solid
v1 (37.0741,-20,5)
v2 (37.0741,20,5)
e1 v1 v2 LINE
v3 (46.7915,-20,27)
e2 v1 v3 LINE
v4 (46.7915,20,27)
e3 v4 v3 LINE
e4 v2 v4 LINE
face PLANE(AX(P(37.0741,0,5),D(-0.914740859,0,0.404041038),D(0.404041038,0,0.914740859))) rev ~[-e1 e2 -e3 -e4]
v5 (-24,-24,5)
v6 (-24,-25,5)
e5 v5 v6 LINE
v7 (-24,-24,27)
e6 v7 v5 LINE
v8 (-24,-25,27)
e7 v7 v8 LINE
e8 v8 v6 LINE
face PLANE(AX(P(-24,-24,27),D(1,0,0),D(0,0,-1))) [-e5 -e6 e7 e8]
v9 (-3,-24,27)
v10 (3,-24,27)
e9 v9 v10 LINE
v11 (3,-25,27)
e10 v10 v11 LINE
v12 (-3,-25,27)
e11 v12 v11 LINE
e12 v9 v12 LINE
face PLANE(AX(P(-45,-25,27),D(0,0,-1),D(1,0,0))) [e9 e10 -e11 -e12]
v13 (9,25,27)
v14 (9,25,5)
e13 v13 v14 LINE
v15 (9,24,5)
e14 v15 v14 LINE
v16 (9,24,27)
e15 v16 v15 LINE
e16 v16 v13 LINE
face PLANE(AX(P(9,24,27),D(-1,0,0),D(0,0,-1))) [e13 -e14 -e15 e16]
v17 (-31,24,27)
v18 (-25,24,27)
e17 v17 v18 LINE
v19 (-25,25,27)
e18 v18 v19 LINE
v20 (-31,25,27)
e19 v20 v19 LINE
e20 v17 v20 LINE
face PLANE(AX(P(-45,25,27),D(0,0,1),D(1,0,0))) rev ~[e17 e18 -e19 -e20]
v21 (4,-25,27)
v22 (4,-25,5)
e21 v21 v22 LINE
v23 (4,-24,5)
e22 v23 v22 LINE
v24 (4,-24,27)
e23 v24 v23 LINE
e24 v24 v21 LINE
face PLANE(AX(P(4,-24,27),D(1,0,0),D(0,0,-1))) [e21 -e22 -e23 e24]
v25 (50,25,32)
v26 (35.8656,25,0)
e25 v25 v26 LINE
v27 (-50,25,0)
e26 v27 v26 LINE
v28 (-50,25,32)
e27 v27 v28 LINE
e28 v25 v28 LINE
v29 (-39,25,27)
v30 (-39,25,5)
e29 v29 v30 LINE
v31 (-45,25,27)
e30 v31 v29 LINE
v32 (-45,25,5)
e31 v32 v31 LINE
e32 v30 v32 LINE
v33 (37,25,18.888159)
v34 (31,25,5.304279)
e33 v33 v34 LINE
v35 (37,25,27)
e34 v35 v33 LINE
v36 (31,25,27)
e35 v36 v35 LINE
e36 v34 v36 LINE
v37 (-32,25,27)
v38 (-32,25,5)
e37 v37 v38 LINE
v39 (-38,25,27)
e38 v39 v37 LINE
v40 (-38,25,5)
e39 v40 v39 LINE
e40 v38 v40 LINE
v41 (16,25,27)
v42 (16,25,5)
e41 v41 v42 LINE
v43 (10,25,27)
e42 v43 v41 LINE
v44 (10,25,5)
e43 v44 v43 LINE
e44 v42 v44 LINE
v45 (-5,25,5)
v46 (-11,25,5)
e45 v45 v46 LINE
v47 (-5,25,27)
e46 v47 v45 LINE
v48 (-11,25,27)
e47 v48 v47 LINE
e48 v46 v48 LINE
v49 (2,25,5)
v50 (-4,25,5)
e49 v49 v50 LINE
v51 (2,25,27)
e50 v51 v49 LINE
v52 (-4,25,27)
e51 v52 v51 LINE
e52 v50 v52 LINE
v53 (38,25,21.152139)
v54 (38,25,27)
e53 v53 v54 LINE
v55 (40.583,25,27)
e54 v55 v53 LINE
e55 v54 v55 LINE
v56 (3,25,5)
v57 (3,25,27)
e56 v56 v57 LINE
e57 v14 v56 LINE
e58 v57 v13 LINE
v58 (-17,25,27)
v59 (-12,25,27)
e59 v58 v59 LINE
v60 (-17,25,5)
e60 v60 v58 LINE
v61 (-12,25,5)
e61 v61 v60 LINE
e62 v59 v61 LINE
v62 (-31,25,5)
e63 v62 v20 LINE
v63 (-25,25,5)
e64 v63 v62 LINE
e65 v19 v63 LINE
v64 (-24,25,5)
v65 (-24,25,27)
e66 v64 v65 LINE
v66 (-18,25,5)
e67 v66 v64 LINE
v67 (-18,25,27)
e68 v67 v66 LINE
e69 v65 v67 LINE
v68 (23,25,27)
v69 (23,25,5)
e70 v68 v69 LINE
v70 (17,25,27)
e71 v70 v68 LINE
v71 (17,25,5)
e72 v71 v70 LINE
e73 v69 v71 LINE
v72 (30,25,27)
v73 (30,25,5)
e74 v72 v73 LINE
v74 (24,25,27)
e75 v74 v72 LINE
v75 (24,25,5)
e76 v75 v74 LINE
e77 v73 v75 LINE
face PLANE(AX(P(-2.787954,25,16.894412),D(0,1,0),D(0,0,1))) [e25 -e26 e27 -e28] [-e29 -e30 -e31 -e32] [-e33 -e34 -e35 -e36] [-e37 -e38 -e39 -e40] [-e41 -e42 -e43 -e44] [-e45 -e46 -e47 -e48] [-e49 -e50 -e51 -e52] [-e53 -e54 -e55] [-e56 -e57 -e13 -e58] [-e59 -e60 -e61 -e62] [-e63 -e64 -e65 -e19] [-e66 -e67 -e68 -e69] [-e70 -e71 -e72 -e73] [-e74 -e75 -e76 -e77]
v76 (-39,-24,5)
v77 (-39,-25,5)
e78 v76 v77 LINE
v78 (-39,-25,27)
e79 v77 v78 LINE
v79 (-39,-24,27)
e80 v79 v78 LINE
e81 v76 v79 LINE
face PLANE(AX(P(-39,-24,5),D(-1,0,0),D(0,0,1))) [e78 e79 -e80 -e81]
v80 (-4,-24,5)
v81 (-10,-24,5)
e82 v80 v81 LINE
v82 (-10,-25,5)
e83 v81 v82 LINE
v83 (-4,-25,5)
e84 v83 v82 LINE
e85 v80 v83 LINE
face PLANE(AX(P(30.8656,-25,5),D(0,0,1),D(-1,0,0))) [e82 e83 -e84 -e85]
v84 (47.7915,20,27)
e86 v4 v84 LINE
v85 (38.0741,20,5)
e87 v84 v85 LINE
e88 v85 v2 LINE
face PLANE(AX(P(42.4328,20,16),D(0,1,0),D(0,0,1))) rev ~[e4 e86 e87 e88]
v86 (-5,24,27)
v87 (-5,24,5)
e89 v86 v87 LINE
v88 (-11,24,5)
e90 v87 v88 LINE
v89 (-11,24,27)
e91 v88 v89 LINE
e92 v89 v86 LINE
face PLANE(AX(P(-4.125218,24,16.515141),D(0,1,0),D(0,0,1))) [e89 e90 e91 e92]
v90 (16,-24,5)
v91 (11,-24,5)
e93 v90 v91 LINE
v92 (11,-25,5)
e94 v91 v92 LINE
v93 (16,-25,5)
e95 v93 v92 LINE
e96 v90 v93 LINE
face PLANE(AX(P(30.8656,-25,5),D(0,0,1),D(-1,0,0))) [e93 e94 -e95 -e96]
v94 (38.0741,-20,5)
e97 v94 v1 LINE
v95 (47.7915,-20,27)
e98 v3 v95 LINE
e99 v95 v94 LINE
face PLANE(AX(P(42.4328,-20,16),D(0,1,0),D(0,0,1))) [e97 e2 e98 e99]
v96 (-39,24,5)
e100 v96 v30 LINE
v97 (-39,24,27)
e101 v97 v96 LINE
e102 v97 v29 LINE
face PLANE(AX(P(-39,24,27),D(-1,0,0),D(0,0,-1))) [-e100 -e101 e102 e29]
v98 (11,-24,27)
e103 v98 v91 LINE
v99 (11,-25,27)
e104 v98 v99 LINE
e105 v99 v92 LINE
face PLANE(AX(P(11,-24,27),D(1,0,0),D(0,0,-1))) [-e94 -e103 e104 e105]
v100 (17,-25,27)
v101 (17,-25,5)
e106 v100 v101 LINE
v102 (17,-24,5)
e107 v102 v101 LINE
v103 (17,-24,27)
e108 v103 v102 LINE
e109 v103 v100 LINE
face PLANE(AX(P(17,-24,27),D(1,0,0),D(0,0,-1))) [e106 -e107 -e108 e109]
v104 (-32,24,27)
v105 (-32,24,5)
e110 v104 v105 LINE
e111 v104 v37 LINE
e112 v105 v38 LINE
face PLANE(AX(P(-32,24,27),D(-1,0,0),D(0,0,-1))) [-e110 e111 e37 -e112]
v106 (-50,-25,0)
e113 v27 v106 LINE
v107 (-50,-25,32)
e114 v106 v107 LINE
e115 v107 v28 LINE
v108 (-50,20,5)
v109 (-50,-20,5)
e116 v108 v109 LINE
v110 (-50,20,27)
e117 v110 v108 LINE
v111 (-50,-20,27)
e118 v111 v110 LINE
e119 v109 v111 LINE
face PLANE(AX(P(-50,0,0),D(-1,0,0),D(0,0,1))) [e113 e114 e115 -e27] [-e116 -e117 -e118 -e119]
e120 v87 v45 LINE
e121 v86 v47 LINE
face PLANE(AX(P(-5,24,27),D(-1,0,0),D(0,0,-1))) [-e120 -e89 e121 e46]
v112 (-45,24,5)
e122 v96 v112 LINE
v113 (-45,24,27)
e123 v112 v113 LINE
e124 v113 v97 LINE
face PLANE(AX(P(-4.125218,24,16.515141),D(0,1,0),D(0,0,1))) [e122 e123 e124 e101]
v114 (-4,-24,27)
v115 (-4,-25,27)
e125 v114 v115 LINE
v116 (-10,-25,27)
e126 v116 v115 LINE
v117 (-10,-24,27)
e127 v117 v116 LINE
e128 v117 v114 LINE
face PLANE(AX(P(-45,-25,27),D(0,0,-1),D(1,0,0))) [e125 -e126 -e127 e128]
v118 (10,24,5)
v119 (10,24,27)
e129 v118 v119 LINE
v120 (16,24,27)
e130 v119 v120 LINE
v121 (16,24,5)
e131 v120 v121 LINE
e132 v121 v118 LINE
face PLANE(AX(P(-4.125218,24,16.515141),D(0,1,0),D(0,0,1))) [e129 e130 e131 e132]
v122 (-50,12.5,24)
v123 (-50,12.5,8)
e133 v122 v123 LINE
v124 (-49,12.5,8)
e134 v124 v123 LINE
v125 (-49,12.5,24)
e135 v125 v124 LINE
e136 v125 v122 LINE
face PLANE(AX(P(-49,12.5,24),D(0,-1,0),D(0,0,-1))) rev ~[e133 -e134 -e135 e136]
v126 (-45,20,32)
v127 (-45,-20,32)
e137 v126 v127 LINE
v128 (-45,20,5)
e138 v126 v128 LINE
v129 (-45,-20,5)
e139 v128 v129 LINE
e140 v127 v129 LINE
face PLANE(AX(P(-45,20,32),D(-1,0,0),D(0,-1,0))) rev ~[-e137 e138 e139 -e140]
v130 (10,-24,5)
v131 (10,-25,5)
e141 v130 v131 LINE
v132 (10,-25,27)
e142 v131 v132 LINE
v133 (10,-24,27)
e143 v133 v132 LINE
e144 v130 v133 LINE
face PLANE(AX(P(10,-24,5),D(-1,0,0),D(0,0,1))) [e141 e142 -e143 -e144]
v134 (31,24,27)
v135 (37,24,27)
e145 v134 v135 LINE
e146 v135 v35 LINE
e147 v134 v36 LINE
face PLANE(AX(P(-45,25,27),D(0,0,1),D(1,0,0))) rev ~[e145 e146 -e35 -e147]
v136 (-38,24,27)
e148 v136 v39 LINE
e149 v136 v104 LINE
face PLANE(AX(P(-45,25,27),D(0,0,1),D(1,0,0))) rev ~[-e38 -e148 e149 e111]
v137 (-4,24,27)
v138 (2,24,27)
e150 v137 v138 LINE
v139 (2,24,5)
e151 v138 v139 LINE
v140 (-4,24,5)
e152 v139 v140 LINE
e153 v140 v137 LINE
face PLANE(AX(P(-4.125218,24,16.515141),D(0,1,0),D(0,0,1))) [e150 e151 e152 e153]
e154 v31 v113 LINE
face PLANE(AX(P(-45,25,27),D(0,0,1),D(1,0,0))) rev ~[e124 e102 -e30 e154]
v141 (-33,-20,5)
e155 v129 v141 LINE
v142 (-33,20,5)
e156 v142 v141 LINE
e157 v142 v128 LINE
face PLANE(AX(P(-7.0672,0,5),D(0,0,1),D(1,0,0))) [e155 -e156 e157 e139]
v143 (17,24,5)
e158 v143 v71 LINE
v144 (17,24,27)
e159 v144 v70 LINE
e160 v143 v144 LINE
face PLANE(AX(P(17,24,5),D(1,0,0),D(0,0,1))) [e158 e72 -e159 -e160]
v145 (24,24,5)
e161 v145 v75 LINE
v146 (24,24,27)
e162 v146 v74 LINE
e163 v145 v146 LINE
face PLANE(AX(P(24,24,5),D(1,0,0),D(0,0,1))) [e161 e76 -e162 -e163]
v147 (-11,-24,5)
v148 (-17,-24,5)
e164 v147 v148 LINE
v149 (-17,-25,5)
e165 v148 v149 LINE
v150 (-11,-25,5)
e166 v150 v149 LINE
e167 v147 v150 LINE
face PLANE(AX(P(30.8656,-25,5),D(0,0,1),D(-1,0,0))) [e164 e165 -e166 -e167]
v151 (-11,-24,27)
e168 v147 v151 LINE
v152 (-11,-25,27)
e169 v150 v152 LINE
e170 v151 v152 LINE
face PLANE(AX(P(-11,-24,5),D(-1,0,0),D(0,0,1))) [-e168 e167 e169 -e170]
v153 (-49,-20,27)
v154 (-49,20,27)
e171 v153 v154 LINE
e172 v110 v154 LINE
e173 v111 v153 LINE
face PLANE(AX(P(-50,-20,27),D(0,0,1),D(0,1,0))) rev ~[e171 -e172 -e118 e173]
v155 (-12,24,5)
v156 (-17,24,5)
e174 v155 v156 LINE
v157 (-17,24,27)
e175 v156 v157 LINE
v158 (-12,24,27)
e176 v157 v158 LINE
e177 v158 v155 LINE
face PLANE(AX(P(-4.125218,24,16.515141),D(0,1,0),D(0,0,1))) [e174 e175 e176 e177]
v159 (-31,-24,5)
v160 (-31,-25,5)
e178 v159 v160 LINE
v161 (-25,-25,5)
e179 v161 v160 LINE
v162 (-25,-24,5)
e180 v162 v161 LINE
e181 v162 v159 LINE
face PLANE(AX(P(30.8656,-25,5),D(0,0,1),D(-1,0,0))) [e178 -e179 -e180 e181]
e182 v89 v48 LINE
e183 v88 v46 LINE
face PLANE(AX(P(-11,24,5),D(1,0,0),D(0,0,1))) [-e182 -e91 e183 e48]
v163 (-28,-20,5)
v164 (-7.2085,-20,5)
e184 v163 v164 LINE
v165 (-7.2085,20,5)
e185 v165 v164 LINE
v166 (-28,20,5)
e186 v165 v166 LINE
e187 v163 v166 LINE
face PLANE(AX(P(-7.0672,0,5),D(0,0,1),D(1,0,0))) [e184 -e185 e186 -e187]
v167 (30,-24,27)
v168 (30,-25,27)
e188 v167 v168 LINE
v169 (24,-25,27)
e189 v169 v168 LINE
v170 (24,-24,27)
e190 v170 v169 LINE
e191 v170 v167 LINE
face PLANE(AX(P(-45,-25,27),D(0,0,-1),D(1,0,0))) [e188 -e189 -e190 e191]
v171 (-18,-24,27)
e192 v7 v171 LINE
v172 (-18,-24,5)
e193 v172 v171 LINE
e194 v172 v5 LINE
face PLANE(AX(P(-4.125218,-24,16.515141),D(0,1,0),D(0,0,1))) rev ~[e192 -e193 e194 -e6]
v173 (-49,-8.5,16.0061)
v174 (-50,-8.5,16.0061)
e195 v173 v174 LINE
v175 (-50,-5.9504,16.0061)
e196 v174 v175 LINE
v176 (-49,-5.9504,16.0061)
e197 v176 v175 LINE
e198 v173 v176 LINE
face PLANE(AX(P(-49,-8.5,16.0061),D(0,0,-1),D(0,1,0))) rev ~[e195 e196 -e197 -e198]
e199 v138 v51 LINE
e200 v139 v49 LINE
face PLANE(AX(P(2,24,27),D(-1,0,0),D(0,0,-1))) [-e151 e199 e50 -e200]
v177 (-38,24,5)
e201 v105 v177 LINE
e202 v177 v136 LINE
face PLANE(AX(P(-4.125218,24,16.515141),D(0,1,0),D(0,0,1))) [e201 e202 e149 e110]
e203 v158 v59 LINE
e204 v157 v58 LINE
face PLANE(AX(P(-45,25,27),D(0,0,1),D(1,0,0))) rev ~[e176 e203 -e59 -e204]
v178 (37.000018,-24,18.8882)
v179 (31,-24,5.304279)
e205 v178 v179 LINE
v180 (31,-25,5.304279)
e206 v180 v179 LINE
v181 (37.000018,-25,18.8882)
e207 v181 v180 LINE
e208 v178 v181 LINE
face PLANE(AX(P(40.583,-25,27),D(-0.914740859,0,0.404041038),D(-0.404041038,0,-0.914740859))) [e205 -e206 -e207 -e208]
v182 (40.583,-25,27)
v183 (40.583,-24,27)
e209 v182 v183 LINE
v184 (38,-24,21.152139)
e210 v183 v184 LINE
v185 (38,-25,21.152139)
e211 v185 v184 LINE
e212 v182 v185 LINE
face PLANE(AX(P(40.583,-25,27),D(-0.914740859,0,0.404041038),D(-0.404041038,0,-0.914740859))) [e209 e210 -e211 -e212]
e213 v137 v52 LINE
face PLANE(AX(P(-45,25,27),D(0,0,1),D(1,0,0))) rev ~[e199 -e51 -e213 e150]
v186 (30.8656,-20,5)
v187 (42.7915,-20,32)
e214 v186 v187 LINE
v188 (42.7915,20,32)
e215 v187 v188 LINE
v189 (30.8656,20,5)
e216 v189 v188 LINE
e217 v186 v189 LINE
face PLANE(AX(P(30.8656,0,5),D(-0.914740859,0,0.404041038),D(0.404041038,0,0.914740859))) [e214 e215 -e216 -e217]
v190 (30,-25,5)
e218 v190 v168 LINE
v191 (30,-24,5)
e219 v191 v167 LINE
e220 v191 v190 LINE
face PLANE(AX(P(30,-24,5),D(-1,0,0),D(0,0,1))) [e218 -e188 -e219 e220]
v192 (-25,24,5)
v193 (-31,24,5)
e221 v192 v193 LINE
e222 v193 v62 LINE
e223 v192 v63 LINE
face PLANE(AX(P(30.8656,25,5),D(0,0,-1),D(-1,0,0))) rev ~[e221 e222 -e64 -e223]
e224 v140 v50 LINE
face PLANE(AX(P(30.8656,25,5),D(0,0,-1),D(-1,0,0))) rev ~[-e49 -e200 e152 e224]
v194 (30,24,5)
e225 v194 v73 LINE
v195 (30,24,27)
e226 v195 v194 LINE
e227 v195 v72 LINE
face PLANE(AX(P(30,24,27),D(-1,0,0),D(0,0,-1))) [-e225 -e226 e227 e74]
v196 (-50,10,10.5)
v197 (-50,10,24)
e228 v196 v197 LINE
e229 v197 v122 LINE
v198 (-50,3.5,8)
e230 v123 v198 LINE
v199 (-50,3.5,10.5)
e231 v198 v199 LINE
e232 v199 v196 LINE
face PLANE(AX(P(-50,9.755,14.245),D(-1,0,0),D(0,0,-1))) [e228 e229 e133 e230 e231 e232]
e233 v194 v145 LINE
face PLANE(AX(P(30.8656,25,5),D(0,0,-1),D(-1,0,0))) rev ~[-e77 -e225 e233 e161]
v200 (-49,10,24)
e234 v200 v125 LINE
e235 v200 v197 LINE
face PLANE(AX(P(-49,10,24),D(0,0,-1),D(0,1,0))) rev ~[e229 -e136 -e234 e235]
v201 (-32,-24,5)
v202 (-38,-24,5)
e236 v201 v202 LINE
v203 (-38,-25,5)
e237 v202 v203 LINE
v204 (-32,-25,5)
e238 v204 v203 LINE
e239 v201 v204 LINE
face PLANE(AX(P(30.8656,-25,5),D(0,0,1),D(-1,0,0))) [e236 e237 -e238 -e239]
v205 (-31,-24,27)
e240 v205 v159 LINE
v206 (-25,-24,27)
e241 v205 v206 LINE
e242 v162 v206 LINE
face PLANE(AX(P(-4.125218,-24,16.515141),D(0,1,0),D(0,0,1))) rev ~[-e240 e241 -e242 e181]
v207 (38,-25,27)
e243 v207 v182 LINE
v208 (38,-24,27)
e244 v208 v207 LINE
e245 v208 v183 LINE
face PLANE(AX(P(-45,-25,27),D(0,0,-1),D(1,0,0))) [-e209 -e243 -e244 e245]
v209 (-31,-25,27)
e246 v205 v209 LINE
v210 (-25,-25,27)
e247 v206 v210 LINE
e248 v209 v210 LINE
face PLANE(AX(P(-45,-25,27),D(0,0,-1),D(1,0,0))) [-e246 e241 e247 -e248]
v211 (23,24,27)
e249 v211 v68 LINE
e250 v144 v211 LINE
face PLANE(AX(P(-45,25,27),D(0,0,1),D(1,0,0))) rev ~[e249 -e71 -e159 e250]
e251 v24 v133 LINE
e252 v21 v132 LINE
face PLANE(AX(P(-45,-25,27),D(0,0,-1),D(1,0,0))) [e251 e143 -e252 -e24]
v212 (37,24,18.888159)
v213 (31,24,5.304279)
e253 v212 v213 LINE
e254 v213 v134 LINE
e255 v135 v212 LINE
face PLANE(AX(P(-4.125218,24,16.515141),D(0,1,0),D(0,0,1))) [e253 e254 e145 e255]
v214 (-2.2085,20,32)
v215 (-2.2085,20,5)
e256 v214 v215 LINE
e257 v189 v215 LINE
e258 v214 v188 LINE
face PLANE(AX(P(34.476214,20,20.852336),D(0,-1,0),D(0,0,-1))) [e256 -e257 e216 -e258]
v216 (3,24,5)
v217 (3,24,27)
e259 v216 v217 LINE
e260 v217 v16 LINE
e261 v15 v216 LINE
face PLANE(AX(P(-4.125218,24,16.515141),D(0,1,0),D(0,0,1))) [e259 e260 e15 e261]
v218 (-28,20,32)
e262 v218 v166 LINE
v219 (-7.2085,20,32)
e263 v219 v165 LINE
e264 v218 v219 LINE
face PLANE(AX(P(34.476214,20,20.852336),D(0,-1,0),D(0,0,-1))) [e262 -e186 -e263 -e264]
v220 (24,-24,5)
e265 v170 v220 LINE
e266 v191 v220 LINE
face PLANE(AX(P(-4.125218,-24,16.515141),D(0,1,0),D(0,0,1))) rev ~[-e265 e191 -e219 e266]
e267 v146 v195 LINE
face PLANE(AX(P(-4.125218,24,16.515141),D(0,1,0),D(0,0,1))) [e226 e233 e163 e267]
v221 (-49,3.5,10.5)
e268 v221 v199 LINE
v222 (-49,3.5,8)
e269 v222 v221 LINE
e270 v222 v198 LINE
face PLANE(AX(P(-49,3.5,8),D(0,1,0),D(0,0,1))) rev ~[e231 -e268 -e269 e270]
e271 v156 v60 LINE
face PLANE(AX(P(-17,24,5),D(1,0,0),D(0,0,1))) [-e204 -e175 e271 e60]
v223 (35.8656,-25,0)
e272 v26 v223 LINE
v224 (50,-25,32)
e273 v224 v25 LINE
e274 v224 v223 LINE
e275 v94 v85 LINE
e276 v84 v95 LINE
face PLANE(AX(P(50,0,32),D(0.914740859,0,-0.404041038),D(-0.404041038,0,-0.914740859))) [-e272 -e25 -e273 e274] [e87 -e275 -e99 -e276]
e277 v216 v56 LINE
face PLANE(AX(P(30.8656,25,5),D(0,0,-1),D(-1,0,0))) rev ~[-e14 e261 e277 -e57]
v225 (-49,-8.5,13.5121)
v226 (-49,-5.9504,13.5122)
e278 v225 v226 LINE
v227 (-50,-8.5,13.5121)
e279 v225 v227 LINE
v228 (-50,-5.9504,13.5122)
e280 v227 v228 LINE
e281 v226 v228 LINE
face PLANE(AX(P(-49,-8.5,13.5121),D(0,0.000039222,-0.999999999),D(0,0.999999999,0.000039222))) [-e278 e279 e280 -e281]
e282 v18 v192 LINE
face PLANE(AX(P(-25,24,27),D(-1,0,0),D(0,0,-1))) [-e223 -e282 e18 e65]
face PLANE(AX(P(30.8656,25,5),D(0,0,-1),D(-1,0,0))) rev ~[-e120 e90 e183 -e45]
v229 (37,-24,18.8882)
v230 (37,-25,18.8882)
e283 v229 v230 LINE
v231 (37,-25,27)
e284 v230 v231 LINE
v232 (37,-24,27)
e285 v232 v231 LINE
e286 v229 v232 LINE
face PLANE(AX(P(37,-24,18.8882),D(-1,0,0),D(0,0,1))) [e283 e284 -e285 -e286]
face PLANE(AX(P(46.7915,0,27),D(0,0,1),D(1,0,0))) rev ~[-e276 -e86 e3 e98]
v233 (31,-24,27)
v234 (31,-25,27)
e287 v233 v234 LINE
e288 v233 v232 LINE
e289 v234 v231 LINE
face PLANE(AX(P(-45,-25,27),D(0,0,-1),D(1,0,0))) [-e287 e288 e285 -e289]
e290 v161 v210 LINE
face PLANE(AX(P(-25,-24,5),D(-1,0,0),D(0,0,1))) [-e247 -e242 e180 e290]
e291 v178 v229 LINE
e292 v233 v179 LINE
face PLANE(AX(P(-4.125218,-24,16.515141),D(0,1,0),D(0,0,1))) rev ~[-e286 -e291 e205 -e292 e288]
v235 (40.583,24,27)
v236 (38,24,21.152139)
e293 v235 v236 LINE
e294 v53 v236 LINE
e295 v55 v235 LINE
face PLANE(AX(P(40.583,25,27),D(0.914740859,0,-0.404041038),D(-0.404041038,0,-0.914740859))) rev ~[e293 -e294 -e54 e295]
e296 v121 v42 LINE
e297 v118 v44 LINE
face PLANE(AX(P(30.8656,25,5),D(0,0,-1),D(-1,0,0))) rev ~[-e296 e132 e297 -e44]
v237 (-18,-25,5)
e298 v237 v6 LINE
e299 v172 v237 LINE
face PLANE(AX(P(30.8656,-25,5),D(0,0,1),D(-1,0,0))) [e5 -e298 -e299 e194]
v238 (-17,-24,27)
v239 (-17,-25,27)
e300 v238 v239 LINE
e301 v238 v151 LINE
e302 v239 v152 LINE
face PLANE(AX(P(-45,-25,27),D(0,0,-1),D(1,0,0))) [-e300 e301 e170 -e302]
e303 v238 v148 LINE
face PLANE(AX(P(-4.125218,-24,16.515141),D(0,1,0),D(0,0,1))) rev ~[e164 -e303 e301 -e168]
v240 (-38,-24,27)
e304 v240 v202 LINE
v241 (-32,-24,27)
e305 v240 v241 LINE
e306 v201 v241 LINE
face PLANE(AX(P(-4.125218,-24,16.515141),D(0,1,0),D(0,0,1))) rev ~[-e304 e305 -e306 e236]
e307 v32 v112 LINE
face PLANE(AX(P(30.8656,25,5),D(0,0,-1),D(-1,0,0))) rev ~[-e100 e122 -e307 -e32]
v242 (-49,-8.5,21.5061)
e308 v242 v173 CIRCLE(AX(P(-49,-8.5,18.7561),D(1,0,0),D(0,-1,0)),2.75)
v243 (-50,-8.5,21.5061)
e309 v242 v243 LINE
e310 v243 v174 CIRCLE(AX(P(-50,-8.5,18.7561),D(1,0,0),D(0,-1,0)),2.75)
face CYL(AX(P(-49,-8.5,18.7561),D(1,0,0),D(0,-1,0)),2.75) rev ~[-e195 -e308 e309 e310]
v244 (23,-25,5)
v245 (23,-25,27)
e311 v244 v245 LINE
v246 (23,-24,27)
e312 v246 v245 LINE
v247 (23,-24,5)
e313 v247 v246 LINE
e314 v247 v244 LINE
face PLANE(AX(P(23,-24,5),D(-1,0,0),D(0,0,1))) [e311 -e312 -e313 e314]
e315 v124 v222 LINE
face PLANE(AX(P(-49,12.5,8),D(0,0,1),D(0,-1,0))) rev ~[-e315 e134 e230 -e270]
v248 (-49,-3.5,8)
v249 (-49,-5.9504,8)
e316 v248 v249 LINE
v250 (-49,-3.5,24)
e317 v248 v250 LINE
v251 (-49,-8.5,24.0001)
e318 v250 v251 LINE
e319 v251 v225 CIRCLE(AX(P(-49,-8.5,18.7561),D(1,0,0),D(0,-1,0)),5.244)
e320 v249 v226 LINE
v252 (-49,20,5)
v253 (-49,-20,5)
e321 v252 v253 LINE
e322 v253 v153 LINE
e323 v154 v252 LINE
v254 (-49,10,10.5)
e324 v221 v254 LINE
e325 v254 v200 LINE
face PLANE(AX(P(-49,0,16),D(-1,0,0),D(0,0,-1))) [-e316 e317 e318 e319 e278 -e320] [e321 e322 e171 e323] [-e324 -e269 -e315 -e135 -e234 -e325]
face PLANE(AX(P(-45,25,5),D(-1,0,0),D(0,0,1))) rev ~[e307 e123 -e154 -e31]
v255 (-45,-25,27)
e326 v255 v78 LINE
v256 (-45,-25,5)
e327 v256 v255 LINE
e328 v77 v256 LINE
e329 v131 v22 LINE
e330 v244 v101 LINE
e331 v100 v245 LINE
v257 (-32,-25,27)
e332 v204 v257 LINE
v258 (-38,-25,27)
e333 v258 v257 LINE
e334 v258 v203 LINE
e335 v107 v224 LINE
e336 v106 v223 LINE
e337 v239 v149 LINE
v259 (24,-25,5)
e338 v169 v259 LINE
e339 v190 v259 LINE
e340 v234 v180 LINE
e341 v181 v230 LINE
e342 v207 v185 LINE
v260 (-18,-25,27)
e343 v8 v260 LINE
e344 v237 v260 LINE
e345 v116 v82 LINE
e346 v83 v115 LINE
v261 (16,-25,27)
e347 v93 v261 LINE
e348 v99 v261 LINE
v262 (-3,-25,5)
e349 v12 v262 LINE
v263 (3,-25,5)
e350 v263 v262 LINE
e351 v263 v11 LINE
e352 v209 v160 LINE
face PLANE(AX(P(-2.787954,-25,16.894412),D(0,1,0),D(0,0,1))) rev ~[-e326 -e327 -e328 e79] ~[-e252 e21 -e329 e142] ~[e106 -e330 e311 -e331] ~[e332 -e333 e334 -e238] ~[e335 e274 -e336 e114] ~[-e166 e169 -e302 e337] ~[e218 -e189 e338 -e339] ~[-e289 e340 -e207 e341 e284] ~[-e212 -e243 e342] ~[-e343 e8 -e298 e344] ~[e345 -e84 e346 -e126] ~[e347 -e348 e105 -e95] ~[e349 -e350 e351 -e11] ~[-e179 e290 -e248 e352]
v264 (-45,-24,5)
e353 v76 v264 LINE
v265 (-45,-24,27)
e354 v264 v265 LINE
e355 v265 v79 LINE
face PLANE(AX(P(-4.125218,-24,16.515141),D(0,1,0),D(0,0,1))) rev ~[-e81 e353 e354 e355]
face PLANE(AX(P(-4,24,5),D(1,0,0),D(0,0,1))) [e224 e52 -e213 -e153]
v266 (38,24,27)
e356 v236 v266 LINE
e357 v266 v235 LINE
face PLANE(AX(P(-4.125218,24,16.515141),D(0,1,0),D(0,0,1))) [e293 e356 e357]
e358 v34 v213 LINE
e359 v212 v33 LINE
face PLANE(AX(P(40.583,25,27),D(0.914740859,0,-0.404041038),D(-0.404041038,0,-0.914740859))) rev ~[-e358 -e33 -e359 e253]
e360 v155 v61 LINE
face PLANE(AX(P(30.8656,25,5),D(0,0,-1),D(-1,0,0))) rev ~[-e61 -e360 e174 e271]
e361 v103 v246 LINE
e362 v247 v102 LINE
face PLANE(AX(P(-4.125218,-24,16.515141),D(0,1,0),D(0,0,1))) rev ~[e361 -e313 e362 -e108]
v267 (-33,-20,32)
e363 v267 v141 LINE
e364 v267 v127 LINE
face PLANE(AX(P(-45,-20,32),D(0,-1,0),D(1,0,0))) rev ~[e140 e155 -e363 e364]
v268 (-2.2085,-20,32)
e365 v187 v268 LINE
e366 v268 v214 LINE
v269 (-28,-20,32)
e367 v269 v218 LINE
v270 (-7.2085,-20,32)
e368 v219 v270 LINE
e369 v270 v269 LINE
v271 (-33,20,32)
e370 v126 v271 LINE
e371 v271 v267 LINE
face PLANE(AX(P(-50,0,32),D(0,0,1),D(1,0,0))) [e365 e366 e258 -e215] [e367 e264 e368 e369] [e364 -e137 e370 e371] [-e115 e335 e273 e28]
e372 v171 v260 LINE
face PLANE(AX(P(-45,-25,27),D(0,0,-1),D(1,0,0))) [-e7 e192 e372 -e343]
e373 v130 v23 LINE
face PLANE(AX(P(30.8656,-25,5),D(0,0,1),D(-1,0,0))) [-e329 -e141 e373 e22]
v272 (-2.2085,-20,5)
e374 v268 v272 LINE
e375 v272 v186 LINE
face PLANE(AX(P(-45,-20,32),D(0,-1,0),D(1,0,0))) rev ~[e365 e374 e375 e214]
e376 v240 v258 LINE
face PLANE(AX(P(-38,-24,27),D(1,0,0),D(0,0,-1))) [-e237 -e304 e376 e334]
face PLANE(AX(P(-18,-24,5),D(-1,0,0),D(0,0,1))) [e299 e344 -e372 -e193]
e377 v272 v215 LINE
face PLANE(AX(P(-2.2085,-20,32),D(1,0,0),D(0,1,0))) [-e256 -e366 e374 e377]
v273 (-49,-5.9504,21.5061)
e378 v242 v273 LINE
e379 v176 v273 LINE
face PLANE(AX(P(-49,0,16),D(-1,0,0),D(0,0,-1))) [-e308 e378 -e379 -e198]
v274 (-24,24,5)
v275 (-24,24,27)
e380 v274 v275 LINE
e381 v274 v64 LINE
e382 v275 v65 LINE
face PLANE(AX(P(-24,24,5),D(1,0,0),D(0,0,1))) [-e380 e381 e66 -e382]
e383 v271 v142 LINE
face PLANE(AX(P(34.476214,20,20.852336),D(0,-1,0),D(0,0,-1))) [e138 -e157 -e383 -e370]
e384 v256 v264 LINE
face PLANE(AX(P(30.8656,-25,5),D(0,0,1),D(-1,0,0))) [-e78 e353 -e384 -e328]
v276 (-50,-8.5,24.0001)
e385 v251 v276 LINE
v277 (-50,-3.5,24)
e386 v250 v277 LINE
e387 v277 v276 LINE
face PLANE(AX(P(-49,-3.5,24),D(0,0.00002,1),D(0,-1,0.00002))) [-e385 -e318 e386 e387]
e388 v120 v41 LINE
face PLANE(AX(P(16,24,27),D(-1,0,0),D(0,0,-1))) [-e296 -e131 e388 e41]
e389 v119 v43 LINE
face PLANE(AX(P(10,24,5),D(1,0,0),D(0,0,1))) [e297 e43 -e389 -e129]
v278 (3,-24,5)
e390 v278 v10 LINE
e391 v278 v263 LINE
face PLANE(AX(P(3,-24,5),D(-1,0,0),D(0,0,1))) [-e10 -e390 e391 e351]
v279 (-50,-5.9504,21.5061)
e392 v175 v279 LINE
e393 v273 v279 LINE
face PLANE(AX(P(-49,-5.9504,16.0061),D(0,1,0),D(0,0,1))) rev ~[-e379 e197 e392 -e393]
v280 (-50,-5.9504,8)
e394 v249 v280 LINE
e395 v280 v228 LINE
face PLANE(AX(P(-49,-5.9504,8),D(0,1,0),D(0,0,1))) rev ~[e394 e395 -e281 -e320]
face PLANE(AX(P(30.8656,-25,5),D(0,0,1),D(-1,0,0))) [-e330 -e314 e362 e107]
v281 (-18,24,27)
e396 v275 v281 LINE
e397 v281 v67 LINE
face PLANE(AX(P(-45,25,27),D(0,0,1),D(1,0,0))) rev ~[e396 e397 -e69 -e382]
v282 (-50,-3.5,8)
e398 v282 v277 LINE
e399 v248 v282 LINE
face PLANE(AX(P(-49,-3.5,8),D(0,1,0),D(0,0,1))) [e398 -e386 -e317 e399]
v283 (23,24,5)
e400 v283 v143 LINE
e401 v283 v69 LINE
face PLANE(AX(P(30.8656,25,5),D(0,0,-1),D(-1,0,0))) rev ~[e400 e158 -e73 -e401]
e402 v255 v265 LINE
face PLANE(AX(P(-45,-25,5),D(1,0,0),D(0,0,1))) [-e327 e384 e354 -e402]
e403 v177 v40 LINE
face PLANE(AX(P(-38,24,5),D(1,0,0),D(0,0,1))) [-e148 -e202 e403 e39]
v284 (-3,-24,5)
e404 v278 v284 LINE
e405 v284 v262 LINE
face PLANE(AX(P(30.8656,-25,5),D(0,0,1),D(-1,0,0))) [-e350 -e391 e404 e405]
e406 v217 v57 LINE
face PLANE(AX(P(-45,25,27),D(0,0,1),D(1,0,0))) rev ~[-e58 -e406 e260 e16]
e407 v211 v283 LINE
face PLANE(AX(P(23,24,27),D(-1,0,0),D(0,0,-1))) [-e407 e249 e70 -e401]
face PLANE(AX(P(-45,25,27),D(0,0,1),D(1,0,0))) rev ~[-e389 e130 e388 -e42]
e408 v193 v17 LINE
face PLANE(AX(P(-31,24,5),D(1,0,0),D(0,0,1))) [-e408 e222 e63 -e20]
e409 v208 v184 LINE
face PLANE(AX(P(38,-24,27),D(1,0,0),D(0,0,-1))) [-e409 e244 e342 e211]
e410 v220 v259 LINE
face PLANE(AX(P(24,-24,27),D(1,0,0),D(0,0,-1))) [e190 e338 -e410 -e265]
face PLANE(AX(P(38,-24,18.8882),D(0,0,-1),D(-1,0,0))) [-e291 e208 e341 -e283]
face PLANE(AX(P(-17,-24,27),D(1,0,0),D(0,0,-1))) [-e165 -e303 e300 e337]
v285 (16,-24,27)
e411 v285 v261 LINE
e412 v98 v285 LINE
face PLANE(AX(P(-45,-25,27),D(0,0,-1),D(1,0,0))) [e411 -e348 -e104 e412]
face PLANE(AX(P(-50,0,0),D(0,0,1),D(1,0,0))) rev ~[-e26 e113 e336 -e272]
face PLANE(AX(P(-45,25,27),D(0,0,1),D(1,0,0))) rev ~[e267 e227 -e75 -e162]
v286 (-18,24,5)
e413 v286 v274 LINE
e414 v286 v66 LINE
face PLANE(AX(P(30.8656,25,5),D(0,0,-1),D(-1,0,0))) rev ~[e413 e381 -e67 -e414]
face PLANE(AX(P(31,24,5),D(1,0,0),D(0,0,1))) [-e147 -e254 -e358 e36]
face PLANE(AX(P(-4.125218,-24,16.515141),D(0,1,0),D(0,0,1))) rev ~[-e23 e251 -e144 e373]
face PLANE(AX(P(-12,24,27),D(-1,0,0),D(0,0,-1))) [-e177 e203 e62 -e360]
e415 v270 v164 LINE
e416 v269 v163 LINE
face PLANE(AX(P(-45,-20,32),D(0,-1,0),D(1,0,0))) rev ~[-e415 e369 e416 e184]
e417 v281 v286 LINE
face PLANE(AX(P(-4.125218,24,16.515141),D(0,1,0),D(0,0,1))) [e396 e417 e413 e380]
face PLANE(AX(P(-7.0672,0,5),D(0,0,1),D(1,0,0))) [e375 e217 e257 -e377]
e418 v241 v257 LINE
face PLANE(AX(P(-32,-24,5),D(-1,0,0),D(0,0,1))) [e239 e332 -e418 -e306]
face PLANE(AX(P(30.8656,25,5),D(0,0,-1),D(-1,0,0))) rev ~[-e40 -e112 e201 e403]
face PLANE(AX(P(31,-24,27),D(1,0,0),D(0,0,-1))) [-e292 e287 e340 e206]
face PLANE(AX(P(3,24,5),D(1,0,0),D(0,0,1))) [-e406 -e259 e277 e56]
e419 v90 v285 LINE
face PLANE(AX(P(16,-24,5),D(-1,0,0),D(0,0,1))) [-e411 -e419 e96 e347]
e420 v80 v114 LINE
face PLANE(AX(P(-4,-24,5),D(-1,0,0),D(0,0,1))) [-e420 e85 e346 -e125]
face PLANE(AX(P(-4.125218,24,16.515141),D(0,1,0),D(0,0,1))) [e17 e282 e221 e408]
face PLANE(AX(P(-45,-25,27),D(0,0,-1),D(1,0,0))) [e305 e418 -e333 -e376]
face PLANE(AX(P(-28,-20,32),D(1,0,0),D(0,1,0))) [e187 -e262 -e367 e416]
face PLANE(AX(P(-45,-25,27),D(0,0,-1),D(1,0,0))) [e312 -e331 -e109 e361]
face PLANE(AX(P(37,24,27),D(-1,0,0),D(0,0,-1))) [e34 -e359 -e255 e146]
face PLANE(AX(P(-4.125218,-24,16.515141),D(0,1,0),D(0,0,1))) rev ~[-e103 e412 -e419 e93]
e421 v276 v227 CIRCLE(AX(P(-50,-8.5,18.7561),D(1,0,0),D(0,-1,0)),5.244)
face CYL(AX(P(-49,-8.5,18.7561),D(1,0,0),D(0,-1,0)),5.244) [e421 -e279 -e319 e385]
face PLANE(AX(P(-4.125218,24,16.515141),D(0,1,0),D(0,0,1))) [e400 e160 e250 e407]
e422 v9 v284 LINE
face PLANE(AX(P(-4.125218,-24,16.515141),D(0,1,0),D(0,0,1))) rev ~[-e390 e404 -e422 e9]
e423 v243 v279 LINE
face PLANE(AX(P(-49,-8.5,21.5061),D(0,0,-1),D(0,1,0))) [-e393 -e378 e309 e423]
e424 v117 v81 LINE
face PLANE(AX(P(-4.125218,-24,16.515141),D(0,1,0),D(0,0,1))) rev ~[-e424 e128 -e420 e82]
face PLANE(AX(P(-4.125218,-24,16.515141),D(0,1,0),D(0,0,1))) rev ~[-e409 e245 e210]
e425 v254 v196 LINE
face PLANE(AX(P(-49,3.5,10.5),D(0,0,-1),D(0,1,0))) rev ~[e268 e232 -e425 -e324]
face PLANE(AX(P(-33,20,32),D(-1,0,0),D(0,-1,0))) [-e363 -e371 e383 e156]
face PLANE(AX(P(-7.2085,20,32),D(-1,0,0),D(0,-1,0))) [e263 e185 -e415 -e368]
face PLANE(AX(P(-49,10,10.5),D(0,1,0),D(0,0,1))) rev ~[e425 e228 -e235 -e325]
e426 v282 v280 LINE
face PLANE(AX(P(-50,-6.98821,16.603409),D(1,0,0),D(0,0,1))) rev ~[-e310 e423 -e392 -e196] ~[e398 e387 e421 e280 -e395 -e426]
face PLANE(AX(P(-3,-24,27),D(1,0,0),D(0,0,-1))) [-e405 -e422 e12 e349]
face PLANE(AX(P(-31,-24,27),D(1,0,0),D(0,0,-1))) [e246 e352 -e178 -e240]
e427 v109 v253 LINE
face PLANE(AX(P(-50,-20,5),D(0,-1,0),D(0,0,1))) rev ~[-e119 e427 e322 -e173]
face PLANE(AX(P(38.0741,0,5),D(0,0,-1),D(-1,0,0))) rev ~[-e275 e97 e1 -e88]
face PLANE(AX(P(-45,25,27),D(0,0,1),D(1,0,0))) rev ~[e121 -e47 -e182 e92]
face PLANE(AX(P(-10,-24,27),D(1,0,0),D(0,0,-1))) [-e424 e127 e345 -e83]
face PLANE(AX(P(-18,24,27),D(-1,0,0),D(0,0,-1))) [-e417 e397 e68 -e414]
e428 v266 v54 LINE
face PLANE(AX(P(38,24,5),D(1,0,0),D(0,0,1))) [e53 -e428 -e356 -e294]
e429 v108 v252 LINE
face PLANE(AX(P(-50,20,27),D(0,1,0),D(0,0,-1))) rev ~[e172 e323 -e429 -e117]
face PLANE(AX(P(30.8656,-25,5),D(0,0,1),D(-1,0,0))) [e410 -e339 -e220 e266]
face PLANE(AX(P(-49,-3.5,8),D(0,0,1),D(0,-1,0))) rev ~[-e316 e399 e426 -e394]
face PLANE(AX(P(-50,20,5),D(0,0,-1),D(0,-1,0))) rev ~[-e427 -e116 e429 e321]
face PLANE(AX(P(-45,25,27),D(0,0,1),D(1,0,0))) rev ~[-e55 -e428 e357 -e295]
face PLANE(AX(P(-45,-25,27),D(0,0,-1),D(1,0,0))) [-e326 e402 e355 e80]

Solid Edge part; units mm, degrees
sketch "Sketch1" plane through (0, 0, 0) normal (0, -1, 0) x (1, 0, 0)
  line L0 (-50, 0) -> (-50, 32)
  line L1 (-50, 32) -> (0, 32)
  line L2 (0, 32) -> (50, 32)
  line L3 (50, 32) -> (35.8656, 0)
  line L4 (-50, 0) -> (35.8656, 0)
  dimension "D1" = 50
  dimension "D2" = 50
  dimension "D3" = 32
extrude "Protrusion1" add sketch "Sketch1" along normal mid plane 50
sketch "Sketch2" plane through (0, 0, 32) normal (0, 0, 1) x (0, 1, 0)
  line L0 (20, 45) -> (-20, 45)
  line L1 (-20, 45) -> (-20, -30.8656)
  line L2 (-20, -30.8656) -> (20, -30.8656)
  line L3 (20, -30.8656) -> (20, 45)
  dimension "D1" = 5
  dimension "D2" = 5
  dimension "D3" = 5
  dimension "D4" = 5
extrude "ExtrudedCutout_1" cut sketch "Sketch2" against normal blind 27
sketch "Sketch3" plane through (0, 0, 0) normal (0, -1, 0) x (1, 0, 0)
  line L0 (30.8656, 32) -> (30.8656, 5)
  line L1 (30.8656, 5) -> (42.7915, 32)
  line L2 (42.7915, 32) -> (30.8656, 32)
extrude "ExtrudedCutout_2" cut sketch "Sketch3" along normal mid plane 40
sketch "Sketch4" plane through (0, -25, 16) normal (0, -1, 0) x (1, 0, 0)
  line L0 (-45, 11) -> (40.583, 11)
  line L1 (40.583, 11) -> (30.8656, -11)
  line L2 (30.8656, -11) -> (-45, -11)
  line L3 (-45, -11) -> (-45, 11)
extrude "ExtrudedCutout_3" cut sketch "Sketch4" against normal blind 1
sketch "Sketch5" plane through (-50, 0, 16) normal (-1, 0, 0) x (0, -1, 0)
  line L0 (20, 11) -> (-20, 11)
  line L1 (-20, 11) -> (-20, -11)
  line L2 (-20, -11) -> (20, -11)
  line L3 (20, -11) -> (20, 11)
extrude "ExtrudedCutout_4" cut sketch "Sketch5" against normal blind 1
sketch "Sketch6" plane through (0, 25, 16) normal (0, 1, 0) x (-1, 0, 0)
  line L0 (45, 11) -> (-40.583, 11)
  line L1 (-40.583, 11) -> (-30.8656, -11)
  line L2 (-30.8656, -11) -> (45, -11)
  line L3 (45, -11) -> (45, 11)
extrude "ExtrudedCutout_5" cut sketch "Sketch6" against normal blind 1
sketch "Sketch7" plane through (0, 0, 0) normal (0, -1, 0) x (1, 0, 0)
  line L0 (47.7915, 27) -> (38.0741, 5)
  line L1 (38.0741, 5) -> (37.0741, 5)
  line L2 (37.0741, 5) -> (46.7915, 27)
  line L3 (46.7915, 27) -> (47.7915, 27)
extrude "ExtrudedCutout_6" cut sketch "Sketch7" along normal mid plane 40
sketch "Sketch8" plane through (0, 0, 32) normal (0, 0, 1) x (1, 0, 0)
  line L0 (-7.2085, -20) -> (-2.2085, -20)
  line L1 (-2.2085, -20) -> (-2.2085, 20)
  line L2 (-2.2085, 20) -> (-7.2085, 20)
  line L3 (-7.2085, 20) -> (-7.2085, -20)
  line L4 (-28, 20) -> (-33, 20)
  line L5 (-33, 20) -> (-33, -20)
  line L6 (-33, -20) -> (-28, -20)
  line L7 (-28, -20) -> (-28, 20)
  dimension "D1" = 5
  dimension "D2" = 12
  dimension "D3" = 5
  dimension "D4" = 45
extrude "ExtrudedProtrusion_3" add sketch "Sketch8" against normal blind 27
sketch "Sketch9" plane through (-2.2085, -24, 16) normal (0, -1, 0) x (1, 0, 0)
  line L0 (-29.7915, 11) -> (-28.7915, 11)
  line L1 (-28.7915, 11) -> (-28.7915, -11)
  line L2 (-28.7915, -11) -> (-29.7915, -11)
  line L3 (-29.7915, -11) -> (-29.7915, 11)
  line L4 (-22.7915, 11) -> (-21.7915, 11)
  line L5 (-21.7915, 11) -> (-21.7915, -11)
  line L6 (-21.7915, -11) -> (-22.7915, -11)
  line L7 (-22.7915, -11) -> (-22.7915, 11)
  line L8 (-15.7915, 11) -> (-14.7915, 11)
  line L9 (-14.7915, 11) -> (-14.7915, -11)
  line L10 (-14.7915, -11) -> (-15.7915, -11)
  line L11 (-15.7915, -11) -> (-15.7915, 11)
  line L12 (-8.7915, 11) -> (-7.7915, 11)
  line L13 (-7.7915, 11) -> (-7.7915, -11)
  line L14 (-7.7915, -11) -> (-8.7915, -11)
  line L15 (-8.7915, -11) -> (-8.7915, 11)
  line L16 (-1.7915, 11) -> (-0.7915, 11)
  line L17 (-0.7915, 11) -> (-0.7915, -11)
  line L18 (-0.7915, -11) -> (-1.7915, -11)
  line L19 (-1.7915, -11) -> (-1.7915, 11)
  line L20 (5.2085, 11) -> (6.2085, 11)
  line L21 (6.2085, 11) -> (6.2085, -11)
  line L22 (6.2085, -11) -> (5.2085, -11)
  line L23 (5.2085, -11) -> (5.2085, 11)
  line L24 (12.2085, 11) -> (13.2085, 11)
  line L25 (13.2085, 11) -> (13.2085, -11)
  line L26 (13.2085, -11) -> (12.2085, -11)
  line L27 (12.2085, -11) -> (12.2085, 11)
  line L28 (-36.7915, 11) -> (-35.7915, 11)
  line L29 (-35.7915, 11) -> (-35.7915, -11)
  line L30 (-35.7915, -11) -> (-36.7915, -11)
  line L31 (-36.7915, -11) -> (-36.7915, 11)
  line L32 (18.2085, 11) -> (19.2085, 11)
  line L33 (19.2085, 11) -> (19.2085, -11)
  line L34 (19.2085, -11) -> (18.2085, -11)
  line L35 (18.2085, -11) -> (18.2085, 11)
  line L36 (25.2085, 11) -> (26.2085, 11)
  line L37 (26.2085, 11) -> (26.2085, -11)
  line L38 (26.2085, -11) -> (25.2085, -11)
  line L39 (25.2085, -11) -> (25.2085, 11)
  line L40 (32.2085, 11) -> (33.2085, 11)
  line L41 (33.2085, 11) -> (33.2085, -11)
  line L42 (33.2085, -11) -> (32.2085, -11)
  line L43 (32.2085, -11) -> (32.2085, 11)
  line L44 (39.2085, 11) -> (40.2085, 11)
  line L45 (40.2085, 11) -> (40.2085, 2.8882)
  line L46 (40.2085, 2.8882) -> (39.2085, 2.8882)
  line L47 (39.2085, 2.8882) -> (39.2085, 11)
  dimension "D1" = 6
  dimension "D2" = 1
  dimension "D3" = 1
  dimension "D4" = 6
  dimension "D5" = 1
  dimension "D6" = 6
  dimension "D7" = 1
  dimension "D8" = 6
  dimension "D9" = 4
  dimension "D10" = 1
  dimension "D11" = 1
  dimension "D12" = 6
  dimension "D13" = 1
  dimension "D14" = 6
  dimension "D15" = 1
  dimension "D16" = 6
  dimension "D17" = 6
  dimension "D18" = 1
  dimension "D19" = 1
  dimension "D20" = 6
  dimension "D21" = 1
  dimension "D22" = 6
  dimension "D23" = 1
  dimension "D24" = 6
  dimension "D25" = 5
extrude "ExtrudedProtrusion_4" add sketch "Sketch9" along normal blind 1
sketch "Sketch10" plane through (-7.2228, 24, 16) normal (0, 1, 0) x (-1, 0, 0)
  line L0 (-38.2228, 11) -> (-37.2228, 11)
  line L1 (-37.2228, 11) -> (-37.2228, -11)
  line L2 (-37.2228, -11) -> (-38.2228, -11)
  line L3 (-38.2228, -11) -> (-38.2228, 11)
  line L4 (-31.2228, 11) -> (-30.2228, 11)
  line L5 (-30.2228, 11) -> (-30.2228, -11)
  line L6 (-30.2228, -11) -> (-31.2228, -11)
  line L7 (-31.2228, -11) -> (-31.2228, 11)
  line L8 (-24.2228, 11) -> (-23.2228, 11)
  line L9 (-23.2228, 11) -> (-23.2228, -11)
  line L10 (-23.2228, -11) -> (-24.2228, -11)
  line L11 (-24.2228, -11) -> (-24.2228, 11)
  line L12 (-17.2228, 11) -> (-16.2228, 11)
  line L13 (-16.2228, 11) -> (-16.2228, -11)
  line L14 (-16.2228, -11) -> (-17.2228, -11)
  line L15 (-17.2228, -11) -> (-17.2228, 11)
  line L16 (-10.2228, 11) -> (-9.2228, 11)
  line L17 (-9.2228, 11) -> (-9.2228, -11)
  line L18 (-9.2228, -11) -> (-10.2228, -11)
  line L19 (-10.2228, -11) -> (-10.2228, 11)
  line L20 (-3.2228, 11) -> (-2.2228, 11)
  line L21 (-2.2228, 11) -> (-2.2228, -11)
  line L22 (-2.2228, -11) -> (-3.2228, -11)
  line L23 (-3.2228, -11) -> (-3.2228, 11)
  line L24 (3.7772, 11) -> (4.7772, 11)
  line L25 (4.7772, 11) -> (4.7772, -11)
  line L26 (4.7772, -11) -> (3.7772, -11)
  line L27 (3.7772, -11) -> (3.7772, 11)
  line L28 (9.7772, 11) -> (10.7772, 11)
  line L29 (10.7772, 11) -> (10.7772, -11)
  line L30 (10.7772, -11) -> (9.7772, -11)
  line L31 (9.7772, -11) -> (9.7772, 11)
  line L32 (16.7772, 11) -> (17.7772, 11)
  line L33 (17.7772, 11) -> (17.7772, -11)
  line L34 (17.7772, -11) -> (16.7772, -11)
  line L35 (16.7772, -11) -> (16.7772, 11)
  line L36 (23.7772, 11) -> (24.7772, 11)
  line L37 (24.7772, 11) -> (24.7772, -11)
  line L38 (24.7772, -11) -> (23.7772, -11)
  line L39 (23.7772, -11) -> (23.7772, 11)
  line L40 (30.7772, 11) -> (31.7772, 11)
  line L41 (31.7772, 11) -> (31.7772, -11)
  line L42 (31.7772, -11) -> (30.7772, -11)
  line L43 (30.7772, -11) -> (30.7772, 11)
  line L44 (-45.2228, 11) -> (-44.2228, 11)
  line L45 (-44.2228, 11) -> (-44.2228, -11)
  line L46 (-44.2228, -11) -> (-45.2228, -11)
  line L47 (-45.2228, -11) -> (-45.2228, 11)
  dimension "D1" = 22
  dimension "D2" = 6
extrude "ExtrudedProtrusion_5" add sketch "Sketch10" along normal blind 1
sketch "Sketch11" plane through (-49, 0, 16) normal (-1, 0, 0) x (0, -1, 0)
  line L0 (3.5, -8) -> (3.5, 8)
  line L1 (3.5, 8) -> (8.5, 8)
  line L2 (8.5, -2.4878) -> (5.9504, -2.4878)
  line L3 (5.9504, -8) -> (5.9504, -2.4878)
  line L4 (3.5, -8) -> (5.9504, -8)
  arc A0 (8.5, 8) -> (8.5, -2.4878) centre (8.5, 2.7561) cw
  line L5 (-12.5, 8) -> (-12.5, -8)
  line L6 (-12.5, -8) -> (-3.5, -8)
  line L7 (-3.5, -8) -> (-3.5, -5.5)
  line L8 (-3.5, -5.5) -> (-10, -5.5)
  line L9 (-10, -5.5) -> (-10, 8)
  line L10 (-10, 8) -> (-12.5, 8)
  line L11 (5.9504, 0.0061) -> (5.9504, 5.5061)
  line L12 (8.5, 5.5061) -> (5.9504, 5.5061)
  line L13 (8.5, 0.0061) -> (5.9504, 0.0061)
  arc A1 (8.5, 5.5061) -> (8.5, 0.0061) centre (8.5, 2.7561) cw
  dimension "D1" = 2.5
  dimension "D2" = 9
  dimension "D3" = 16
  dimension "D4" = 7.5
  dimension "D5" = 3
  dimension "D6" = 2.5
  dimension "D7" = 5
  dimension "D8" = 16
  dimension "D9" = 3
  dimension "D10" = 16.5
  dimension "D11" = 7
  dimension "D12" = 3.5
extrude "ExtrudedProtrusion_6" add sketch "Sketch11" along normal blind 1
